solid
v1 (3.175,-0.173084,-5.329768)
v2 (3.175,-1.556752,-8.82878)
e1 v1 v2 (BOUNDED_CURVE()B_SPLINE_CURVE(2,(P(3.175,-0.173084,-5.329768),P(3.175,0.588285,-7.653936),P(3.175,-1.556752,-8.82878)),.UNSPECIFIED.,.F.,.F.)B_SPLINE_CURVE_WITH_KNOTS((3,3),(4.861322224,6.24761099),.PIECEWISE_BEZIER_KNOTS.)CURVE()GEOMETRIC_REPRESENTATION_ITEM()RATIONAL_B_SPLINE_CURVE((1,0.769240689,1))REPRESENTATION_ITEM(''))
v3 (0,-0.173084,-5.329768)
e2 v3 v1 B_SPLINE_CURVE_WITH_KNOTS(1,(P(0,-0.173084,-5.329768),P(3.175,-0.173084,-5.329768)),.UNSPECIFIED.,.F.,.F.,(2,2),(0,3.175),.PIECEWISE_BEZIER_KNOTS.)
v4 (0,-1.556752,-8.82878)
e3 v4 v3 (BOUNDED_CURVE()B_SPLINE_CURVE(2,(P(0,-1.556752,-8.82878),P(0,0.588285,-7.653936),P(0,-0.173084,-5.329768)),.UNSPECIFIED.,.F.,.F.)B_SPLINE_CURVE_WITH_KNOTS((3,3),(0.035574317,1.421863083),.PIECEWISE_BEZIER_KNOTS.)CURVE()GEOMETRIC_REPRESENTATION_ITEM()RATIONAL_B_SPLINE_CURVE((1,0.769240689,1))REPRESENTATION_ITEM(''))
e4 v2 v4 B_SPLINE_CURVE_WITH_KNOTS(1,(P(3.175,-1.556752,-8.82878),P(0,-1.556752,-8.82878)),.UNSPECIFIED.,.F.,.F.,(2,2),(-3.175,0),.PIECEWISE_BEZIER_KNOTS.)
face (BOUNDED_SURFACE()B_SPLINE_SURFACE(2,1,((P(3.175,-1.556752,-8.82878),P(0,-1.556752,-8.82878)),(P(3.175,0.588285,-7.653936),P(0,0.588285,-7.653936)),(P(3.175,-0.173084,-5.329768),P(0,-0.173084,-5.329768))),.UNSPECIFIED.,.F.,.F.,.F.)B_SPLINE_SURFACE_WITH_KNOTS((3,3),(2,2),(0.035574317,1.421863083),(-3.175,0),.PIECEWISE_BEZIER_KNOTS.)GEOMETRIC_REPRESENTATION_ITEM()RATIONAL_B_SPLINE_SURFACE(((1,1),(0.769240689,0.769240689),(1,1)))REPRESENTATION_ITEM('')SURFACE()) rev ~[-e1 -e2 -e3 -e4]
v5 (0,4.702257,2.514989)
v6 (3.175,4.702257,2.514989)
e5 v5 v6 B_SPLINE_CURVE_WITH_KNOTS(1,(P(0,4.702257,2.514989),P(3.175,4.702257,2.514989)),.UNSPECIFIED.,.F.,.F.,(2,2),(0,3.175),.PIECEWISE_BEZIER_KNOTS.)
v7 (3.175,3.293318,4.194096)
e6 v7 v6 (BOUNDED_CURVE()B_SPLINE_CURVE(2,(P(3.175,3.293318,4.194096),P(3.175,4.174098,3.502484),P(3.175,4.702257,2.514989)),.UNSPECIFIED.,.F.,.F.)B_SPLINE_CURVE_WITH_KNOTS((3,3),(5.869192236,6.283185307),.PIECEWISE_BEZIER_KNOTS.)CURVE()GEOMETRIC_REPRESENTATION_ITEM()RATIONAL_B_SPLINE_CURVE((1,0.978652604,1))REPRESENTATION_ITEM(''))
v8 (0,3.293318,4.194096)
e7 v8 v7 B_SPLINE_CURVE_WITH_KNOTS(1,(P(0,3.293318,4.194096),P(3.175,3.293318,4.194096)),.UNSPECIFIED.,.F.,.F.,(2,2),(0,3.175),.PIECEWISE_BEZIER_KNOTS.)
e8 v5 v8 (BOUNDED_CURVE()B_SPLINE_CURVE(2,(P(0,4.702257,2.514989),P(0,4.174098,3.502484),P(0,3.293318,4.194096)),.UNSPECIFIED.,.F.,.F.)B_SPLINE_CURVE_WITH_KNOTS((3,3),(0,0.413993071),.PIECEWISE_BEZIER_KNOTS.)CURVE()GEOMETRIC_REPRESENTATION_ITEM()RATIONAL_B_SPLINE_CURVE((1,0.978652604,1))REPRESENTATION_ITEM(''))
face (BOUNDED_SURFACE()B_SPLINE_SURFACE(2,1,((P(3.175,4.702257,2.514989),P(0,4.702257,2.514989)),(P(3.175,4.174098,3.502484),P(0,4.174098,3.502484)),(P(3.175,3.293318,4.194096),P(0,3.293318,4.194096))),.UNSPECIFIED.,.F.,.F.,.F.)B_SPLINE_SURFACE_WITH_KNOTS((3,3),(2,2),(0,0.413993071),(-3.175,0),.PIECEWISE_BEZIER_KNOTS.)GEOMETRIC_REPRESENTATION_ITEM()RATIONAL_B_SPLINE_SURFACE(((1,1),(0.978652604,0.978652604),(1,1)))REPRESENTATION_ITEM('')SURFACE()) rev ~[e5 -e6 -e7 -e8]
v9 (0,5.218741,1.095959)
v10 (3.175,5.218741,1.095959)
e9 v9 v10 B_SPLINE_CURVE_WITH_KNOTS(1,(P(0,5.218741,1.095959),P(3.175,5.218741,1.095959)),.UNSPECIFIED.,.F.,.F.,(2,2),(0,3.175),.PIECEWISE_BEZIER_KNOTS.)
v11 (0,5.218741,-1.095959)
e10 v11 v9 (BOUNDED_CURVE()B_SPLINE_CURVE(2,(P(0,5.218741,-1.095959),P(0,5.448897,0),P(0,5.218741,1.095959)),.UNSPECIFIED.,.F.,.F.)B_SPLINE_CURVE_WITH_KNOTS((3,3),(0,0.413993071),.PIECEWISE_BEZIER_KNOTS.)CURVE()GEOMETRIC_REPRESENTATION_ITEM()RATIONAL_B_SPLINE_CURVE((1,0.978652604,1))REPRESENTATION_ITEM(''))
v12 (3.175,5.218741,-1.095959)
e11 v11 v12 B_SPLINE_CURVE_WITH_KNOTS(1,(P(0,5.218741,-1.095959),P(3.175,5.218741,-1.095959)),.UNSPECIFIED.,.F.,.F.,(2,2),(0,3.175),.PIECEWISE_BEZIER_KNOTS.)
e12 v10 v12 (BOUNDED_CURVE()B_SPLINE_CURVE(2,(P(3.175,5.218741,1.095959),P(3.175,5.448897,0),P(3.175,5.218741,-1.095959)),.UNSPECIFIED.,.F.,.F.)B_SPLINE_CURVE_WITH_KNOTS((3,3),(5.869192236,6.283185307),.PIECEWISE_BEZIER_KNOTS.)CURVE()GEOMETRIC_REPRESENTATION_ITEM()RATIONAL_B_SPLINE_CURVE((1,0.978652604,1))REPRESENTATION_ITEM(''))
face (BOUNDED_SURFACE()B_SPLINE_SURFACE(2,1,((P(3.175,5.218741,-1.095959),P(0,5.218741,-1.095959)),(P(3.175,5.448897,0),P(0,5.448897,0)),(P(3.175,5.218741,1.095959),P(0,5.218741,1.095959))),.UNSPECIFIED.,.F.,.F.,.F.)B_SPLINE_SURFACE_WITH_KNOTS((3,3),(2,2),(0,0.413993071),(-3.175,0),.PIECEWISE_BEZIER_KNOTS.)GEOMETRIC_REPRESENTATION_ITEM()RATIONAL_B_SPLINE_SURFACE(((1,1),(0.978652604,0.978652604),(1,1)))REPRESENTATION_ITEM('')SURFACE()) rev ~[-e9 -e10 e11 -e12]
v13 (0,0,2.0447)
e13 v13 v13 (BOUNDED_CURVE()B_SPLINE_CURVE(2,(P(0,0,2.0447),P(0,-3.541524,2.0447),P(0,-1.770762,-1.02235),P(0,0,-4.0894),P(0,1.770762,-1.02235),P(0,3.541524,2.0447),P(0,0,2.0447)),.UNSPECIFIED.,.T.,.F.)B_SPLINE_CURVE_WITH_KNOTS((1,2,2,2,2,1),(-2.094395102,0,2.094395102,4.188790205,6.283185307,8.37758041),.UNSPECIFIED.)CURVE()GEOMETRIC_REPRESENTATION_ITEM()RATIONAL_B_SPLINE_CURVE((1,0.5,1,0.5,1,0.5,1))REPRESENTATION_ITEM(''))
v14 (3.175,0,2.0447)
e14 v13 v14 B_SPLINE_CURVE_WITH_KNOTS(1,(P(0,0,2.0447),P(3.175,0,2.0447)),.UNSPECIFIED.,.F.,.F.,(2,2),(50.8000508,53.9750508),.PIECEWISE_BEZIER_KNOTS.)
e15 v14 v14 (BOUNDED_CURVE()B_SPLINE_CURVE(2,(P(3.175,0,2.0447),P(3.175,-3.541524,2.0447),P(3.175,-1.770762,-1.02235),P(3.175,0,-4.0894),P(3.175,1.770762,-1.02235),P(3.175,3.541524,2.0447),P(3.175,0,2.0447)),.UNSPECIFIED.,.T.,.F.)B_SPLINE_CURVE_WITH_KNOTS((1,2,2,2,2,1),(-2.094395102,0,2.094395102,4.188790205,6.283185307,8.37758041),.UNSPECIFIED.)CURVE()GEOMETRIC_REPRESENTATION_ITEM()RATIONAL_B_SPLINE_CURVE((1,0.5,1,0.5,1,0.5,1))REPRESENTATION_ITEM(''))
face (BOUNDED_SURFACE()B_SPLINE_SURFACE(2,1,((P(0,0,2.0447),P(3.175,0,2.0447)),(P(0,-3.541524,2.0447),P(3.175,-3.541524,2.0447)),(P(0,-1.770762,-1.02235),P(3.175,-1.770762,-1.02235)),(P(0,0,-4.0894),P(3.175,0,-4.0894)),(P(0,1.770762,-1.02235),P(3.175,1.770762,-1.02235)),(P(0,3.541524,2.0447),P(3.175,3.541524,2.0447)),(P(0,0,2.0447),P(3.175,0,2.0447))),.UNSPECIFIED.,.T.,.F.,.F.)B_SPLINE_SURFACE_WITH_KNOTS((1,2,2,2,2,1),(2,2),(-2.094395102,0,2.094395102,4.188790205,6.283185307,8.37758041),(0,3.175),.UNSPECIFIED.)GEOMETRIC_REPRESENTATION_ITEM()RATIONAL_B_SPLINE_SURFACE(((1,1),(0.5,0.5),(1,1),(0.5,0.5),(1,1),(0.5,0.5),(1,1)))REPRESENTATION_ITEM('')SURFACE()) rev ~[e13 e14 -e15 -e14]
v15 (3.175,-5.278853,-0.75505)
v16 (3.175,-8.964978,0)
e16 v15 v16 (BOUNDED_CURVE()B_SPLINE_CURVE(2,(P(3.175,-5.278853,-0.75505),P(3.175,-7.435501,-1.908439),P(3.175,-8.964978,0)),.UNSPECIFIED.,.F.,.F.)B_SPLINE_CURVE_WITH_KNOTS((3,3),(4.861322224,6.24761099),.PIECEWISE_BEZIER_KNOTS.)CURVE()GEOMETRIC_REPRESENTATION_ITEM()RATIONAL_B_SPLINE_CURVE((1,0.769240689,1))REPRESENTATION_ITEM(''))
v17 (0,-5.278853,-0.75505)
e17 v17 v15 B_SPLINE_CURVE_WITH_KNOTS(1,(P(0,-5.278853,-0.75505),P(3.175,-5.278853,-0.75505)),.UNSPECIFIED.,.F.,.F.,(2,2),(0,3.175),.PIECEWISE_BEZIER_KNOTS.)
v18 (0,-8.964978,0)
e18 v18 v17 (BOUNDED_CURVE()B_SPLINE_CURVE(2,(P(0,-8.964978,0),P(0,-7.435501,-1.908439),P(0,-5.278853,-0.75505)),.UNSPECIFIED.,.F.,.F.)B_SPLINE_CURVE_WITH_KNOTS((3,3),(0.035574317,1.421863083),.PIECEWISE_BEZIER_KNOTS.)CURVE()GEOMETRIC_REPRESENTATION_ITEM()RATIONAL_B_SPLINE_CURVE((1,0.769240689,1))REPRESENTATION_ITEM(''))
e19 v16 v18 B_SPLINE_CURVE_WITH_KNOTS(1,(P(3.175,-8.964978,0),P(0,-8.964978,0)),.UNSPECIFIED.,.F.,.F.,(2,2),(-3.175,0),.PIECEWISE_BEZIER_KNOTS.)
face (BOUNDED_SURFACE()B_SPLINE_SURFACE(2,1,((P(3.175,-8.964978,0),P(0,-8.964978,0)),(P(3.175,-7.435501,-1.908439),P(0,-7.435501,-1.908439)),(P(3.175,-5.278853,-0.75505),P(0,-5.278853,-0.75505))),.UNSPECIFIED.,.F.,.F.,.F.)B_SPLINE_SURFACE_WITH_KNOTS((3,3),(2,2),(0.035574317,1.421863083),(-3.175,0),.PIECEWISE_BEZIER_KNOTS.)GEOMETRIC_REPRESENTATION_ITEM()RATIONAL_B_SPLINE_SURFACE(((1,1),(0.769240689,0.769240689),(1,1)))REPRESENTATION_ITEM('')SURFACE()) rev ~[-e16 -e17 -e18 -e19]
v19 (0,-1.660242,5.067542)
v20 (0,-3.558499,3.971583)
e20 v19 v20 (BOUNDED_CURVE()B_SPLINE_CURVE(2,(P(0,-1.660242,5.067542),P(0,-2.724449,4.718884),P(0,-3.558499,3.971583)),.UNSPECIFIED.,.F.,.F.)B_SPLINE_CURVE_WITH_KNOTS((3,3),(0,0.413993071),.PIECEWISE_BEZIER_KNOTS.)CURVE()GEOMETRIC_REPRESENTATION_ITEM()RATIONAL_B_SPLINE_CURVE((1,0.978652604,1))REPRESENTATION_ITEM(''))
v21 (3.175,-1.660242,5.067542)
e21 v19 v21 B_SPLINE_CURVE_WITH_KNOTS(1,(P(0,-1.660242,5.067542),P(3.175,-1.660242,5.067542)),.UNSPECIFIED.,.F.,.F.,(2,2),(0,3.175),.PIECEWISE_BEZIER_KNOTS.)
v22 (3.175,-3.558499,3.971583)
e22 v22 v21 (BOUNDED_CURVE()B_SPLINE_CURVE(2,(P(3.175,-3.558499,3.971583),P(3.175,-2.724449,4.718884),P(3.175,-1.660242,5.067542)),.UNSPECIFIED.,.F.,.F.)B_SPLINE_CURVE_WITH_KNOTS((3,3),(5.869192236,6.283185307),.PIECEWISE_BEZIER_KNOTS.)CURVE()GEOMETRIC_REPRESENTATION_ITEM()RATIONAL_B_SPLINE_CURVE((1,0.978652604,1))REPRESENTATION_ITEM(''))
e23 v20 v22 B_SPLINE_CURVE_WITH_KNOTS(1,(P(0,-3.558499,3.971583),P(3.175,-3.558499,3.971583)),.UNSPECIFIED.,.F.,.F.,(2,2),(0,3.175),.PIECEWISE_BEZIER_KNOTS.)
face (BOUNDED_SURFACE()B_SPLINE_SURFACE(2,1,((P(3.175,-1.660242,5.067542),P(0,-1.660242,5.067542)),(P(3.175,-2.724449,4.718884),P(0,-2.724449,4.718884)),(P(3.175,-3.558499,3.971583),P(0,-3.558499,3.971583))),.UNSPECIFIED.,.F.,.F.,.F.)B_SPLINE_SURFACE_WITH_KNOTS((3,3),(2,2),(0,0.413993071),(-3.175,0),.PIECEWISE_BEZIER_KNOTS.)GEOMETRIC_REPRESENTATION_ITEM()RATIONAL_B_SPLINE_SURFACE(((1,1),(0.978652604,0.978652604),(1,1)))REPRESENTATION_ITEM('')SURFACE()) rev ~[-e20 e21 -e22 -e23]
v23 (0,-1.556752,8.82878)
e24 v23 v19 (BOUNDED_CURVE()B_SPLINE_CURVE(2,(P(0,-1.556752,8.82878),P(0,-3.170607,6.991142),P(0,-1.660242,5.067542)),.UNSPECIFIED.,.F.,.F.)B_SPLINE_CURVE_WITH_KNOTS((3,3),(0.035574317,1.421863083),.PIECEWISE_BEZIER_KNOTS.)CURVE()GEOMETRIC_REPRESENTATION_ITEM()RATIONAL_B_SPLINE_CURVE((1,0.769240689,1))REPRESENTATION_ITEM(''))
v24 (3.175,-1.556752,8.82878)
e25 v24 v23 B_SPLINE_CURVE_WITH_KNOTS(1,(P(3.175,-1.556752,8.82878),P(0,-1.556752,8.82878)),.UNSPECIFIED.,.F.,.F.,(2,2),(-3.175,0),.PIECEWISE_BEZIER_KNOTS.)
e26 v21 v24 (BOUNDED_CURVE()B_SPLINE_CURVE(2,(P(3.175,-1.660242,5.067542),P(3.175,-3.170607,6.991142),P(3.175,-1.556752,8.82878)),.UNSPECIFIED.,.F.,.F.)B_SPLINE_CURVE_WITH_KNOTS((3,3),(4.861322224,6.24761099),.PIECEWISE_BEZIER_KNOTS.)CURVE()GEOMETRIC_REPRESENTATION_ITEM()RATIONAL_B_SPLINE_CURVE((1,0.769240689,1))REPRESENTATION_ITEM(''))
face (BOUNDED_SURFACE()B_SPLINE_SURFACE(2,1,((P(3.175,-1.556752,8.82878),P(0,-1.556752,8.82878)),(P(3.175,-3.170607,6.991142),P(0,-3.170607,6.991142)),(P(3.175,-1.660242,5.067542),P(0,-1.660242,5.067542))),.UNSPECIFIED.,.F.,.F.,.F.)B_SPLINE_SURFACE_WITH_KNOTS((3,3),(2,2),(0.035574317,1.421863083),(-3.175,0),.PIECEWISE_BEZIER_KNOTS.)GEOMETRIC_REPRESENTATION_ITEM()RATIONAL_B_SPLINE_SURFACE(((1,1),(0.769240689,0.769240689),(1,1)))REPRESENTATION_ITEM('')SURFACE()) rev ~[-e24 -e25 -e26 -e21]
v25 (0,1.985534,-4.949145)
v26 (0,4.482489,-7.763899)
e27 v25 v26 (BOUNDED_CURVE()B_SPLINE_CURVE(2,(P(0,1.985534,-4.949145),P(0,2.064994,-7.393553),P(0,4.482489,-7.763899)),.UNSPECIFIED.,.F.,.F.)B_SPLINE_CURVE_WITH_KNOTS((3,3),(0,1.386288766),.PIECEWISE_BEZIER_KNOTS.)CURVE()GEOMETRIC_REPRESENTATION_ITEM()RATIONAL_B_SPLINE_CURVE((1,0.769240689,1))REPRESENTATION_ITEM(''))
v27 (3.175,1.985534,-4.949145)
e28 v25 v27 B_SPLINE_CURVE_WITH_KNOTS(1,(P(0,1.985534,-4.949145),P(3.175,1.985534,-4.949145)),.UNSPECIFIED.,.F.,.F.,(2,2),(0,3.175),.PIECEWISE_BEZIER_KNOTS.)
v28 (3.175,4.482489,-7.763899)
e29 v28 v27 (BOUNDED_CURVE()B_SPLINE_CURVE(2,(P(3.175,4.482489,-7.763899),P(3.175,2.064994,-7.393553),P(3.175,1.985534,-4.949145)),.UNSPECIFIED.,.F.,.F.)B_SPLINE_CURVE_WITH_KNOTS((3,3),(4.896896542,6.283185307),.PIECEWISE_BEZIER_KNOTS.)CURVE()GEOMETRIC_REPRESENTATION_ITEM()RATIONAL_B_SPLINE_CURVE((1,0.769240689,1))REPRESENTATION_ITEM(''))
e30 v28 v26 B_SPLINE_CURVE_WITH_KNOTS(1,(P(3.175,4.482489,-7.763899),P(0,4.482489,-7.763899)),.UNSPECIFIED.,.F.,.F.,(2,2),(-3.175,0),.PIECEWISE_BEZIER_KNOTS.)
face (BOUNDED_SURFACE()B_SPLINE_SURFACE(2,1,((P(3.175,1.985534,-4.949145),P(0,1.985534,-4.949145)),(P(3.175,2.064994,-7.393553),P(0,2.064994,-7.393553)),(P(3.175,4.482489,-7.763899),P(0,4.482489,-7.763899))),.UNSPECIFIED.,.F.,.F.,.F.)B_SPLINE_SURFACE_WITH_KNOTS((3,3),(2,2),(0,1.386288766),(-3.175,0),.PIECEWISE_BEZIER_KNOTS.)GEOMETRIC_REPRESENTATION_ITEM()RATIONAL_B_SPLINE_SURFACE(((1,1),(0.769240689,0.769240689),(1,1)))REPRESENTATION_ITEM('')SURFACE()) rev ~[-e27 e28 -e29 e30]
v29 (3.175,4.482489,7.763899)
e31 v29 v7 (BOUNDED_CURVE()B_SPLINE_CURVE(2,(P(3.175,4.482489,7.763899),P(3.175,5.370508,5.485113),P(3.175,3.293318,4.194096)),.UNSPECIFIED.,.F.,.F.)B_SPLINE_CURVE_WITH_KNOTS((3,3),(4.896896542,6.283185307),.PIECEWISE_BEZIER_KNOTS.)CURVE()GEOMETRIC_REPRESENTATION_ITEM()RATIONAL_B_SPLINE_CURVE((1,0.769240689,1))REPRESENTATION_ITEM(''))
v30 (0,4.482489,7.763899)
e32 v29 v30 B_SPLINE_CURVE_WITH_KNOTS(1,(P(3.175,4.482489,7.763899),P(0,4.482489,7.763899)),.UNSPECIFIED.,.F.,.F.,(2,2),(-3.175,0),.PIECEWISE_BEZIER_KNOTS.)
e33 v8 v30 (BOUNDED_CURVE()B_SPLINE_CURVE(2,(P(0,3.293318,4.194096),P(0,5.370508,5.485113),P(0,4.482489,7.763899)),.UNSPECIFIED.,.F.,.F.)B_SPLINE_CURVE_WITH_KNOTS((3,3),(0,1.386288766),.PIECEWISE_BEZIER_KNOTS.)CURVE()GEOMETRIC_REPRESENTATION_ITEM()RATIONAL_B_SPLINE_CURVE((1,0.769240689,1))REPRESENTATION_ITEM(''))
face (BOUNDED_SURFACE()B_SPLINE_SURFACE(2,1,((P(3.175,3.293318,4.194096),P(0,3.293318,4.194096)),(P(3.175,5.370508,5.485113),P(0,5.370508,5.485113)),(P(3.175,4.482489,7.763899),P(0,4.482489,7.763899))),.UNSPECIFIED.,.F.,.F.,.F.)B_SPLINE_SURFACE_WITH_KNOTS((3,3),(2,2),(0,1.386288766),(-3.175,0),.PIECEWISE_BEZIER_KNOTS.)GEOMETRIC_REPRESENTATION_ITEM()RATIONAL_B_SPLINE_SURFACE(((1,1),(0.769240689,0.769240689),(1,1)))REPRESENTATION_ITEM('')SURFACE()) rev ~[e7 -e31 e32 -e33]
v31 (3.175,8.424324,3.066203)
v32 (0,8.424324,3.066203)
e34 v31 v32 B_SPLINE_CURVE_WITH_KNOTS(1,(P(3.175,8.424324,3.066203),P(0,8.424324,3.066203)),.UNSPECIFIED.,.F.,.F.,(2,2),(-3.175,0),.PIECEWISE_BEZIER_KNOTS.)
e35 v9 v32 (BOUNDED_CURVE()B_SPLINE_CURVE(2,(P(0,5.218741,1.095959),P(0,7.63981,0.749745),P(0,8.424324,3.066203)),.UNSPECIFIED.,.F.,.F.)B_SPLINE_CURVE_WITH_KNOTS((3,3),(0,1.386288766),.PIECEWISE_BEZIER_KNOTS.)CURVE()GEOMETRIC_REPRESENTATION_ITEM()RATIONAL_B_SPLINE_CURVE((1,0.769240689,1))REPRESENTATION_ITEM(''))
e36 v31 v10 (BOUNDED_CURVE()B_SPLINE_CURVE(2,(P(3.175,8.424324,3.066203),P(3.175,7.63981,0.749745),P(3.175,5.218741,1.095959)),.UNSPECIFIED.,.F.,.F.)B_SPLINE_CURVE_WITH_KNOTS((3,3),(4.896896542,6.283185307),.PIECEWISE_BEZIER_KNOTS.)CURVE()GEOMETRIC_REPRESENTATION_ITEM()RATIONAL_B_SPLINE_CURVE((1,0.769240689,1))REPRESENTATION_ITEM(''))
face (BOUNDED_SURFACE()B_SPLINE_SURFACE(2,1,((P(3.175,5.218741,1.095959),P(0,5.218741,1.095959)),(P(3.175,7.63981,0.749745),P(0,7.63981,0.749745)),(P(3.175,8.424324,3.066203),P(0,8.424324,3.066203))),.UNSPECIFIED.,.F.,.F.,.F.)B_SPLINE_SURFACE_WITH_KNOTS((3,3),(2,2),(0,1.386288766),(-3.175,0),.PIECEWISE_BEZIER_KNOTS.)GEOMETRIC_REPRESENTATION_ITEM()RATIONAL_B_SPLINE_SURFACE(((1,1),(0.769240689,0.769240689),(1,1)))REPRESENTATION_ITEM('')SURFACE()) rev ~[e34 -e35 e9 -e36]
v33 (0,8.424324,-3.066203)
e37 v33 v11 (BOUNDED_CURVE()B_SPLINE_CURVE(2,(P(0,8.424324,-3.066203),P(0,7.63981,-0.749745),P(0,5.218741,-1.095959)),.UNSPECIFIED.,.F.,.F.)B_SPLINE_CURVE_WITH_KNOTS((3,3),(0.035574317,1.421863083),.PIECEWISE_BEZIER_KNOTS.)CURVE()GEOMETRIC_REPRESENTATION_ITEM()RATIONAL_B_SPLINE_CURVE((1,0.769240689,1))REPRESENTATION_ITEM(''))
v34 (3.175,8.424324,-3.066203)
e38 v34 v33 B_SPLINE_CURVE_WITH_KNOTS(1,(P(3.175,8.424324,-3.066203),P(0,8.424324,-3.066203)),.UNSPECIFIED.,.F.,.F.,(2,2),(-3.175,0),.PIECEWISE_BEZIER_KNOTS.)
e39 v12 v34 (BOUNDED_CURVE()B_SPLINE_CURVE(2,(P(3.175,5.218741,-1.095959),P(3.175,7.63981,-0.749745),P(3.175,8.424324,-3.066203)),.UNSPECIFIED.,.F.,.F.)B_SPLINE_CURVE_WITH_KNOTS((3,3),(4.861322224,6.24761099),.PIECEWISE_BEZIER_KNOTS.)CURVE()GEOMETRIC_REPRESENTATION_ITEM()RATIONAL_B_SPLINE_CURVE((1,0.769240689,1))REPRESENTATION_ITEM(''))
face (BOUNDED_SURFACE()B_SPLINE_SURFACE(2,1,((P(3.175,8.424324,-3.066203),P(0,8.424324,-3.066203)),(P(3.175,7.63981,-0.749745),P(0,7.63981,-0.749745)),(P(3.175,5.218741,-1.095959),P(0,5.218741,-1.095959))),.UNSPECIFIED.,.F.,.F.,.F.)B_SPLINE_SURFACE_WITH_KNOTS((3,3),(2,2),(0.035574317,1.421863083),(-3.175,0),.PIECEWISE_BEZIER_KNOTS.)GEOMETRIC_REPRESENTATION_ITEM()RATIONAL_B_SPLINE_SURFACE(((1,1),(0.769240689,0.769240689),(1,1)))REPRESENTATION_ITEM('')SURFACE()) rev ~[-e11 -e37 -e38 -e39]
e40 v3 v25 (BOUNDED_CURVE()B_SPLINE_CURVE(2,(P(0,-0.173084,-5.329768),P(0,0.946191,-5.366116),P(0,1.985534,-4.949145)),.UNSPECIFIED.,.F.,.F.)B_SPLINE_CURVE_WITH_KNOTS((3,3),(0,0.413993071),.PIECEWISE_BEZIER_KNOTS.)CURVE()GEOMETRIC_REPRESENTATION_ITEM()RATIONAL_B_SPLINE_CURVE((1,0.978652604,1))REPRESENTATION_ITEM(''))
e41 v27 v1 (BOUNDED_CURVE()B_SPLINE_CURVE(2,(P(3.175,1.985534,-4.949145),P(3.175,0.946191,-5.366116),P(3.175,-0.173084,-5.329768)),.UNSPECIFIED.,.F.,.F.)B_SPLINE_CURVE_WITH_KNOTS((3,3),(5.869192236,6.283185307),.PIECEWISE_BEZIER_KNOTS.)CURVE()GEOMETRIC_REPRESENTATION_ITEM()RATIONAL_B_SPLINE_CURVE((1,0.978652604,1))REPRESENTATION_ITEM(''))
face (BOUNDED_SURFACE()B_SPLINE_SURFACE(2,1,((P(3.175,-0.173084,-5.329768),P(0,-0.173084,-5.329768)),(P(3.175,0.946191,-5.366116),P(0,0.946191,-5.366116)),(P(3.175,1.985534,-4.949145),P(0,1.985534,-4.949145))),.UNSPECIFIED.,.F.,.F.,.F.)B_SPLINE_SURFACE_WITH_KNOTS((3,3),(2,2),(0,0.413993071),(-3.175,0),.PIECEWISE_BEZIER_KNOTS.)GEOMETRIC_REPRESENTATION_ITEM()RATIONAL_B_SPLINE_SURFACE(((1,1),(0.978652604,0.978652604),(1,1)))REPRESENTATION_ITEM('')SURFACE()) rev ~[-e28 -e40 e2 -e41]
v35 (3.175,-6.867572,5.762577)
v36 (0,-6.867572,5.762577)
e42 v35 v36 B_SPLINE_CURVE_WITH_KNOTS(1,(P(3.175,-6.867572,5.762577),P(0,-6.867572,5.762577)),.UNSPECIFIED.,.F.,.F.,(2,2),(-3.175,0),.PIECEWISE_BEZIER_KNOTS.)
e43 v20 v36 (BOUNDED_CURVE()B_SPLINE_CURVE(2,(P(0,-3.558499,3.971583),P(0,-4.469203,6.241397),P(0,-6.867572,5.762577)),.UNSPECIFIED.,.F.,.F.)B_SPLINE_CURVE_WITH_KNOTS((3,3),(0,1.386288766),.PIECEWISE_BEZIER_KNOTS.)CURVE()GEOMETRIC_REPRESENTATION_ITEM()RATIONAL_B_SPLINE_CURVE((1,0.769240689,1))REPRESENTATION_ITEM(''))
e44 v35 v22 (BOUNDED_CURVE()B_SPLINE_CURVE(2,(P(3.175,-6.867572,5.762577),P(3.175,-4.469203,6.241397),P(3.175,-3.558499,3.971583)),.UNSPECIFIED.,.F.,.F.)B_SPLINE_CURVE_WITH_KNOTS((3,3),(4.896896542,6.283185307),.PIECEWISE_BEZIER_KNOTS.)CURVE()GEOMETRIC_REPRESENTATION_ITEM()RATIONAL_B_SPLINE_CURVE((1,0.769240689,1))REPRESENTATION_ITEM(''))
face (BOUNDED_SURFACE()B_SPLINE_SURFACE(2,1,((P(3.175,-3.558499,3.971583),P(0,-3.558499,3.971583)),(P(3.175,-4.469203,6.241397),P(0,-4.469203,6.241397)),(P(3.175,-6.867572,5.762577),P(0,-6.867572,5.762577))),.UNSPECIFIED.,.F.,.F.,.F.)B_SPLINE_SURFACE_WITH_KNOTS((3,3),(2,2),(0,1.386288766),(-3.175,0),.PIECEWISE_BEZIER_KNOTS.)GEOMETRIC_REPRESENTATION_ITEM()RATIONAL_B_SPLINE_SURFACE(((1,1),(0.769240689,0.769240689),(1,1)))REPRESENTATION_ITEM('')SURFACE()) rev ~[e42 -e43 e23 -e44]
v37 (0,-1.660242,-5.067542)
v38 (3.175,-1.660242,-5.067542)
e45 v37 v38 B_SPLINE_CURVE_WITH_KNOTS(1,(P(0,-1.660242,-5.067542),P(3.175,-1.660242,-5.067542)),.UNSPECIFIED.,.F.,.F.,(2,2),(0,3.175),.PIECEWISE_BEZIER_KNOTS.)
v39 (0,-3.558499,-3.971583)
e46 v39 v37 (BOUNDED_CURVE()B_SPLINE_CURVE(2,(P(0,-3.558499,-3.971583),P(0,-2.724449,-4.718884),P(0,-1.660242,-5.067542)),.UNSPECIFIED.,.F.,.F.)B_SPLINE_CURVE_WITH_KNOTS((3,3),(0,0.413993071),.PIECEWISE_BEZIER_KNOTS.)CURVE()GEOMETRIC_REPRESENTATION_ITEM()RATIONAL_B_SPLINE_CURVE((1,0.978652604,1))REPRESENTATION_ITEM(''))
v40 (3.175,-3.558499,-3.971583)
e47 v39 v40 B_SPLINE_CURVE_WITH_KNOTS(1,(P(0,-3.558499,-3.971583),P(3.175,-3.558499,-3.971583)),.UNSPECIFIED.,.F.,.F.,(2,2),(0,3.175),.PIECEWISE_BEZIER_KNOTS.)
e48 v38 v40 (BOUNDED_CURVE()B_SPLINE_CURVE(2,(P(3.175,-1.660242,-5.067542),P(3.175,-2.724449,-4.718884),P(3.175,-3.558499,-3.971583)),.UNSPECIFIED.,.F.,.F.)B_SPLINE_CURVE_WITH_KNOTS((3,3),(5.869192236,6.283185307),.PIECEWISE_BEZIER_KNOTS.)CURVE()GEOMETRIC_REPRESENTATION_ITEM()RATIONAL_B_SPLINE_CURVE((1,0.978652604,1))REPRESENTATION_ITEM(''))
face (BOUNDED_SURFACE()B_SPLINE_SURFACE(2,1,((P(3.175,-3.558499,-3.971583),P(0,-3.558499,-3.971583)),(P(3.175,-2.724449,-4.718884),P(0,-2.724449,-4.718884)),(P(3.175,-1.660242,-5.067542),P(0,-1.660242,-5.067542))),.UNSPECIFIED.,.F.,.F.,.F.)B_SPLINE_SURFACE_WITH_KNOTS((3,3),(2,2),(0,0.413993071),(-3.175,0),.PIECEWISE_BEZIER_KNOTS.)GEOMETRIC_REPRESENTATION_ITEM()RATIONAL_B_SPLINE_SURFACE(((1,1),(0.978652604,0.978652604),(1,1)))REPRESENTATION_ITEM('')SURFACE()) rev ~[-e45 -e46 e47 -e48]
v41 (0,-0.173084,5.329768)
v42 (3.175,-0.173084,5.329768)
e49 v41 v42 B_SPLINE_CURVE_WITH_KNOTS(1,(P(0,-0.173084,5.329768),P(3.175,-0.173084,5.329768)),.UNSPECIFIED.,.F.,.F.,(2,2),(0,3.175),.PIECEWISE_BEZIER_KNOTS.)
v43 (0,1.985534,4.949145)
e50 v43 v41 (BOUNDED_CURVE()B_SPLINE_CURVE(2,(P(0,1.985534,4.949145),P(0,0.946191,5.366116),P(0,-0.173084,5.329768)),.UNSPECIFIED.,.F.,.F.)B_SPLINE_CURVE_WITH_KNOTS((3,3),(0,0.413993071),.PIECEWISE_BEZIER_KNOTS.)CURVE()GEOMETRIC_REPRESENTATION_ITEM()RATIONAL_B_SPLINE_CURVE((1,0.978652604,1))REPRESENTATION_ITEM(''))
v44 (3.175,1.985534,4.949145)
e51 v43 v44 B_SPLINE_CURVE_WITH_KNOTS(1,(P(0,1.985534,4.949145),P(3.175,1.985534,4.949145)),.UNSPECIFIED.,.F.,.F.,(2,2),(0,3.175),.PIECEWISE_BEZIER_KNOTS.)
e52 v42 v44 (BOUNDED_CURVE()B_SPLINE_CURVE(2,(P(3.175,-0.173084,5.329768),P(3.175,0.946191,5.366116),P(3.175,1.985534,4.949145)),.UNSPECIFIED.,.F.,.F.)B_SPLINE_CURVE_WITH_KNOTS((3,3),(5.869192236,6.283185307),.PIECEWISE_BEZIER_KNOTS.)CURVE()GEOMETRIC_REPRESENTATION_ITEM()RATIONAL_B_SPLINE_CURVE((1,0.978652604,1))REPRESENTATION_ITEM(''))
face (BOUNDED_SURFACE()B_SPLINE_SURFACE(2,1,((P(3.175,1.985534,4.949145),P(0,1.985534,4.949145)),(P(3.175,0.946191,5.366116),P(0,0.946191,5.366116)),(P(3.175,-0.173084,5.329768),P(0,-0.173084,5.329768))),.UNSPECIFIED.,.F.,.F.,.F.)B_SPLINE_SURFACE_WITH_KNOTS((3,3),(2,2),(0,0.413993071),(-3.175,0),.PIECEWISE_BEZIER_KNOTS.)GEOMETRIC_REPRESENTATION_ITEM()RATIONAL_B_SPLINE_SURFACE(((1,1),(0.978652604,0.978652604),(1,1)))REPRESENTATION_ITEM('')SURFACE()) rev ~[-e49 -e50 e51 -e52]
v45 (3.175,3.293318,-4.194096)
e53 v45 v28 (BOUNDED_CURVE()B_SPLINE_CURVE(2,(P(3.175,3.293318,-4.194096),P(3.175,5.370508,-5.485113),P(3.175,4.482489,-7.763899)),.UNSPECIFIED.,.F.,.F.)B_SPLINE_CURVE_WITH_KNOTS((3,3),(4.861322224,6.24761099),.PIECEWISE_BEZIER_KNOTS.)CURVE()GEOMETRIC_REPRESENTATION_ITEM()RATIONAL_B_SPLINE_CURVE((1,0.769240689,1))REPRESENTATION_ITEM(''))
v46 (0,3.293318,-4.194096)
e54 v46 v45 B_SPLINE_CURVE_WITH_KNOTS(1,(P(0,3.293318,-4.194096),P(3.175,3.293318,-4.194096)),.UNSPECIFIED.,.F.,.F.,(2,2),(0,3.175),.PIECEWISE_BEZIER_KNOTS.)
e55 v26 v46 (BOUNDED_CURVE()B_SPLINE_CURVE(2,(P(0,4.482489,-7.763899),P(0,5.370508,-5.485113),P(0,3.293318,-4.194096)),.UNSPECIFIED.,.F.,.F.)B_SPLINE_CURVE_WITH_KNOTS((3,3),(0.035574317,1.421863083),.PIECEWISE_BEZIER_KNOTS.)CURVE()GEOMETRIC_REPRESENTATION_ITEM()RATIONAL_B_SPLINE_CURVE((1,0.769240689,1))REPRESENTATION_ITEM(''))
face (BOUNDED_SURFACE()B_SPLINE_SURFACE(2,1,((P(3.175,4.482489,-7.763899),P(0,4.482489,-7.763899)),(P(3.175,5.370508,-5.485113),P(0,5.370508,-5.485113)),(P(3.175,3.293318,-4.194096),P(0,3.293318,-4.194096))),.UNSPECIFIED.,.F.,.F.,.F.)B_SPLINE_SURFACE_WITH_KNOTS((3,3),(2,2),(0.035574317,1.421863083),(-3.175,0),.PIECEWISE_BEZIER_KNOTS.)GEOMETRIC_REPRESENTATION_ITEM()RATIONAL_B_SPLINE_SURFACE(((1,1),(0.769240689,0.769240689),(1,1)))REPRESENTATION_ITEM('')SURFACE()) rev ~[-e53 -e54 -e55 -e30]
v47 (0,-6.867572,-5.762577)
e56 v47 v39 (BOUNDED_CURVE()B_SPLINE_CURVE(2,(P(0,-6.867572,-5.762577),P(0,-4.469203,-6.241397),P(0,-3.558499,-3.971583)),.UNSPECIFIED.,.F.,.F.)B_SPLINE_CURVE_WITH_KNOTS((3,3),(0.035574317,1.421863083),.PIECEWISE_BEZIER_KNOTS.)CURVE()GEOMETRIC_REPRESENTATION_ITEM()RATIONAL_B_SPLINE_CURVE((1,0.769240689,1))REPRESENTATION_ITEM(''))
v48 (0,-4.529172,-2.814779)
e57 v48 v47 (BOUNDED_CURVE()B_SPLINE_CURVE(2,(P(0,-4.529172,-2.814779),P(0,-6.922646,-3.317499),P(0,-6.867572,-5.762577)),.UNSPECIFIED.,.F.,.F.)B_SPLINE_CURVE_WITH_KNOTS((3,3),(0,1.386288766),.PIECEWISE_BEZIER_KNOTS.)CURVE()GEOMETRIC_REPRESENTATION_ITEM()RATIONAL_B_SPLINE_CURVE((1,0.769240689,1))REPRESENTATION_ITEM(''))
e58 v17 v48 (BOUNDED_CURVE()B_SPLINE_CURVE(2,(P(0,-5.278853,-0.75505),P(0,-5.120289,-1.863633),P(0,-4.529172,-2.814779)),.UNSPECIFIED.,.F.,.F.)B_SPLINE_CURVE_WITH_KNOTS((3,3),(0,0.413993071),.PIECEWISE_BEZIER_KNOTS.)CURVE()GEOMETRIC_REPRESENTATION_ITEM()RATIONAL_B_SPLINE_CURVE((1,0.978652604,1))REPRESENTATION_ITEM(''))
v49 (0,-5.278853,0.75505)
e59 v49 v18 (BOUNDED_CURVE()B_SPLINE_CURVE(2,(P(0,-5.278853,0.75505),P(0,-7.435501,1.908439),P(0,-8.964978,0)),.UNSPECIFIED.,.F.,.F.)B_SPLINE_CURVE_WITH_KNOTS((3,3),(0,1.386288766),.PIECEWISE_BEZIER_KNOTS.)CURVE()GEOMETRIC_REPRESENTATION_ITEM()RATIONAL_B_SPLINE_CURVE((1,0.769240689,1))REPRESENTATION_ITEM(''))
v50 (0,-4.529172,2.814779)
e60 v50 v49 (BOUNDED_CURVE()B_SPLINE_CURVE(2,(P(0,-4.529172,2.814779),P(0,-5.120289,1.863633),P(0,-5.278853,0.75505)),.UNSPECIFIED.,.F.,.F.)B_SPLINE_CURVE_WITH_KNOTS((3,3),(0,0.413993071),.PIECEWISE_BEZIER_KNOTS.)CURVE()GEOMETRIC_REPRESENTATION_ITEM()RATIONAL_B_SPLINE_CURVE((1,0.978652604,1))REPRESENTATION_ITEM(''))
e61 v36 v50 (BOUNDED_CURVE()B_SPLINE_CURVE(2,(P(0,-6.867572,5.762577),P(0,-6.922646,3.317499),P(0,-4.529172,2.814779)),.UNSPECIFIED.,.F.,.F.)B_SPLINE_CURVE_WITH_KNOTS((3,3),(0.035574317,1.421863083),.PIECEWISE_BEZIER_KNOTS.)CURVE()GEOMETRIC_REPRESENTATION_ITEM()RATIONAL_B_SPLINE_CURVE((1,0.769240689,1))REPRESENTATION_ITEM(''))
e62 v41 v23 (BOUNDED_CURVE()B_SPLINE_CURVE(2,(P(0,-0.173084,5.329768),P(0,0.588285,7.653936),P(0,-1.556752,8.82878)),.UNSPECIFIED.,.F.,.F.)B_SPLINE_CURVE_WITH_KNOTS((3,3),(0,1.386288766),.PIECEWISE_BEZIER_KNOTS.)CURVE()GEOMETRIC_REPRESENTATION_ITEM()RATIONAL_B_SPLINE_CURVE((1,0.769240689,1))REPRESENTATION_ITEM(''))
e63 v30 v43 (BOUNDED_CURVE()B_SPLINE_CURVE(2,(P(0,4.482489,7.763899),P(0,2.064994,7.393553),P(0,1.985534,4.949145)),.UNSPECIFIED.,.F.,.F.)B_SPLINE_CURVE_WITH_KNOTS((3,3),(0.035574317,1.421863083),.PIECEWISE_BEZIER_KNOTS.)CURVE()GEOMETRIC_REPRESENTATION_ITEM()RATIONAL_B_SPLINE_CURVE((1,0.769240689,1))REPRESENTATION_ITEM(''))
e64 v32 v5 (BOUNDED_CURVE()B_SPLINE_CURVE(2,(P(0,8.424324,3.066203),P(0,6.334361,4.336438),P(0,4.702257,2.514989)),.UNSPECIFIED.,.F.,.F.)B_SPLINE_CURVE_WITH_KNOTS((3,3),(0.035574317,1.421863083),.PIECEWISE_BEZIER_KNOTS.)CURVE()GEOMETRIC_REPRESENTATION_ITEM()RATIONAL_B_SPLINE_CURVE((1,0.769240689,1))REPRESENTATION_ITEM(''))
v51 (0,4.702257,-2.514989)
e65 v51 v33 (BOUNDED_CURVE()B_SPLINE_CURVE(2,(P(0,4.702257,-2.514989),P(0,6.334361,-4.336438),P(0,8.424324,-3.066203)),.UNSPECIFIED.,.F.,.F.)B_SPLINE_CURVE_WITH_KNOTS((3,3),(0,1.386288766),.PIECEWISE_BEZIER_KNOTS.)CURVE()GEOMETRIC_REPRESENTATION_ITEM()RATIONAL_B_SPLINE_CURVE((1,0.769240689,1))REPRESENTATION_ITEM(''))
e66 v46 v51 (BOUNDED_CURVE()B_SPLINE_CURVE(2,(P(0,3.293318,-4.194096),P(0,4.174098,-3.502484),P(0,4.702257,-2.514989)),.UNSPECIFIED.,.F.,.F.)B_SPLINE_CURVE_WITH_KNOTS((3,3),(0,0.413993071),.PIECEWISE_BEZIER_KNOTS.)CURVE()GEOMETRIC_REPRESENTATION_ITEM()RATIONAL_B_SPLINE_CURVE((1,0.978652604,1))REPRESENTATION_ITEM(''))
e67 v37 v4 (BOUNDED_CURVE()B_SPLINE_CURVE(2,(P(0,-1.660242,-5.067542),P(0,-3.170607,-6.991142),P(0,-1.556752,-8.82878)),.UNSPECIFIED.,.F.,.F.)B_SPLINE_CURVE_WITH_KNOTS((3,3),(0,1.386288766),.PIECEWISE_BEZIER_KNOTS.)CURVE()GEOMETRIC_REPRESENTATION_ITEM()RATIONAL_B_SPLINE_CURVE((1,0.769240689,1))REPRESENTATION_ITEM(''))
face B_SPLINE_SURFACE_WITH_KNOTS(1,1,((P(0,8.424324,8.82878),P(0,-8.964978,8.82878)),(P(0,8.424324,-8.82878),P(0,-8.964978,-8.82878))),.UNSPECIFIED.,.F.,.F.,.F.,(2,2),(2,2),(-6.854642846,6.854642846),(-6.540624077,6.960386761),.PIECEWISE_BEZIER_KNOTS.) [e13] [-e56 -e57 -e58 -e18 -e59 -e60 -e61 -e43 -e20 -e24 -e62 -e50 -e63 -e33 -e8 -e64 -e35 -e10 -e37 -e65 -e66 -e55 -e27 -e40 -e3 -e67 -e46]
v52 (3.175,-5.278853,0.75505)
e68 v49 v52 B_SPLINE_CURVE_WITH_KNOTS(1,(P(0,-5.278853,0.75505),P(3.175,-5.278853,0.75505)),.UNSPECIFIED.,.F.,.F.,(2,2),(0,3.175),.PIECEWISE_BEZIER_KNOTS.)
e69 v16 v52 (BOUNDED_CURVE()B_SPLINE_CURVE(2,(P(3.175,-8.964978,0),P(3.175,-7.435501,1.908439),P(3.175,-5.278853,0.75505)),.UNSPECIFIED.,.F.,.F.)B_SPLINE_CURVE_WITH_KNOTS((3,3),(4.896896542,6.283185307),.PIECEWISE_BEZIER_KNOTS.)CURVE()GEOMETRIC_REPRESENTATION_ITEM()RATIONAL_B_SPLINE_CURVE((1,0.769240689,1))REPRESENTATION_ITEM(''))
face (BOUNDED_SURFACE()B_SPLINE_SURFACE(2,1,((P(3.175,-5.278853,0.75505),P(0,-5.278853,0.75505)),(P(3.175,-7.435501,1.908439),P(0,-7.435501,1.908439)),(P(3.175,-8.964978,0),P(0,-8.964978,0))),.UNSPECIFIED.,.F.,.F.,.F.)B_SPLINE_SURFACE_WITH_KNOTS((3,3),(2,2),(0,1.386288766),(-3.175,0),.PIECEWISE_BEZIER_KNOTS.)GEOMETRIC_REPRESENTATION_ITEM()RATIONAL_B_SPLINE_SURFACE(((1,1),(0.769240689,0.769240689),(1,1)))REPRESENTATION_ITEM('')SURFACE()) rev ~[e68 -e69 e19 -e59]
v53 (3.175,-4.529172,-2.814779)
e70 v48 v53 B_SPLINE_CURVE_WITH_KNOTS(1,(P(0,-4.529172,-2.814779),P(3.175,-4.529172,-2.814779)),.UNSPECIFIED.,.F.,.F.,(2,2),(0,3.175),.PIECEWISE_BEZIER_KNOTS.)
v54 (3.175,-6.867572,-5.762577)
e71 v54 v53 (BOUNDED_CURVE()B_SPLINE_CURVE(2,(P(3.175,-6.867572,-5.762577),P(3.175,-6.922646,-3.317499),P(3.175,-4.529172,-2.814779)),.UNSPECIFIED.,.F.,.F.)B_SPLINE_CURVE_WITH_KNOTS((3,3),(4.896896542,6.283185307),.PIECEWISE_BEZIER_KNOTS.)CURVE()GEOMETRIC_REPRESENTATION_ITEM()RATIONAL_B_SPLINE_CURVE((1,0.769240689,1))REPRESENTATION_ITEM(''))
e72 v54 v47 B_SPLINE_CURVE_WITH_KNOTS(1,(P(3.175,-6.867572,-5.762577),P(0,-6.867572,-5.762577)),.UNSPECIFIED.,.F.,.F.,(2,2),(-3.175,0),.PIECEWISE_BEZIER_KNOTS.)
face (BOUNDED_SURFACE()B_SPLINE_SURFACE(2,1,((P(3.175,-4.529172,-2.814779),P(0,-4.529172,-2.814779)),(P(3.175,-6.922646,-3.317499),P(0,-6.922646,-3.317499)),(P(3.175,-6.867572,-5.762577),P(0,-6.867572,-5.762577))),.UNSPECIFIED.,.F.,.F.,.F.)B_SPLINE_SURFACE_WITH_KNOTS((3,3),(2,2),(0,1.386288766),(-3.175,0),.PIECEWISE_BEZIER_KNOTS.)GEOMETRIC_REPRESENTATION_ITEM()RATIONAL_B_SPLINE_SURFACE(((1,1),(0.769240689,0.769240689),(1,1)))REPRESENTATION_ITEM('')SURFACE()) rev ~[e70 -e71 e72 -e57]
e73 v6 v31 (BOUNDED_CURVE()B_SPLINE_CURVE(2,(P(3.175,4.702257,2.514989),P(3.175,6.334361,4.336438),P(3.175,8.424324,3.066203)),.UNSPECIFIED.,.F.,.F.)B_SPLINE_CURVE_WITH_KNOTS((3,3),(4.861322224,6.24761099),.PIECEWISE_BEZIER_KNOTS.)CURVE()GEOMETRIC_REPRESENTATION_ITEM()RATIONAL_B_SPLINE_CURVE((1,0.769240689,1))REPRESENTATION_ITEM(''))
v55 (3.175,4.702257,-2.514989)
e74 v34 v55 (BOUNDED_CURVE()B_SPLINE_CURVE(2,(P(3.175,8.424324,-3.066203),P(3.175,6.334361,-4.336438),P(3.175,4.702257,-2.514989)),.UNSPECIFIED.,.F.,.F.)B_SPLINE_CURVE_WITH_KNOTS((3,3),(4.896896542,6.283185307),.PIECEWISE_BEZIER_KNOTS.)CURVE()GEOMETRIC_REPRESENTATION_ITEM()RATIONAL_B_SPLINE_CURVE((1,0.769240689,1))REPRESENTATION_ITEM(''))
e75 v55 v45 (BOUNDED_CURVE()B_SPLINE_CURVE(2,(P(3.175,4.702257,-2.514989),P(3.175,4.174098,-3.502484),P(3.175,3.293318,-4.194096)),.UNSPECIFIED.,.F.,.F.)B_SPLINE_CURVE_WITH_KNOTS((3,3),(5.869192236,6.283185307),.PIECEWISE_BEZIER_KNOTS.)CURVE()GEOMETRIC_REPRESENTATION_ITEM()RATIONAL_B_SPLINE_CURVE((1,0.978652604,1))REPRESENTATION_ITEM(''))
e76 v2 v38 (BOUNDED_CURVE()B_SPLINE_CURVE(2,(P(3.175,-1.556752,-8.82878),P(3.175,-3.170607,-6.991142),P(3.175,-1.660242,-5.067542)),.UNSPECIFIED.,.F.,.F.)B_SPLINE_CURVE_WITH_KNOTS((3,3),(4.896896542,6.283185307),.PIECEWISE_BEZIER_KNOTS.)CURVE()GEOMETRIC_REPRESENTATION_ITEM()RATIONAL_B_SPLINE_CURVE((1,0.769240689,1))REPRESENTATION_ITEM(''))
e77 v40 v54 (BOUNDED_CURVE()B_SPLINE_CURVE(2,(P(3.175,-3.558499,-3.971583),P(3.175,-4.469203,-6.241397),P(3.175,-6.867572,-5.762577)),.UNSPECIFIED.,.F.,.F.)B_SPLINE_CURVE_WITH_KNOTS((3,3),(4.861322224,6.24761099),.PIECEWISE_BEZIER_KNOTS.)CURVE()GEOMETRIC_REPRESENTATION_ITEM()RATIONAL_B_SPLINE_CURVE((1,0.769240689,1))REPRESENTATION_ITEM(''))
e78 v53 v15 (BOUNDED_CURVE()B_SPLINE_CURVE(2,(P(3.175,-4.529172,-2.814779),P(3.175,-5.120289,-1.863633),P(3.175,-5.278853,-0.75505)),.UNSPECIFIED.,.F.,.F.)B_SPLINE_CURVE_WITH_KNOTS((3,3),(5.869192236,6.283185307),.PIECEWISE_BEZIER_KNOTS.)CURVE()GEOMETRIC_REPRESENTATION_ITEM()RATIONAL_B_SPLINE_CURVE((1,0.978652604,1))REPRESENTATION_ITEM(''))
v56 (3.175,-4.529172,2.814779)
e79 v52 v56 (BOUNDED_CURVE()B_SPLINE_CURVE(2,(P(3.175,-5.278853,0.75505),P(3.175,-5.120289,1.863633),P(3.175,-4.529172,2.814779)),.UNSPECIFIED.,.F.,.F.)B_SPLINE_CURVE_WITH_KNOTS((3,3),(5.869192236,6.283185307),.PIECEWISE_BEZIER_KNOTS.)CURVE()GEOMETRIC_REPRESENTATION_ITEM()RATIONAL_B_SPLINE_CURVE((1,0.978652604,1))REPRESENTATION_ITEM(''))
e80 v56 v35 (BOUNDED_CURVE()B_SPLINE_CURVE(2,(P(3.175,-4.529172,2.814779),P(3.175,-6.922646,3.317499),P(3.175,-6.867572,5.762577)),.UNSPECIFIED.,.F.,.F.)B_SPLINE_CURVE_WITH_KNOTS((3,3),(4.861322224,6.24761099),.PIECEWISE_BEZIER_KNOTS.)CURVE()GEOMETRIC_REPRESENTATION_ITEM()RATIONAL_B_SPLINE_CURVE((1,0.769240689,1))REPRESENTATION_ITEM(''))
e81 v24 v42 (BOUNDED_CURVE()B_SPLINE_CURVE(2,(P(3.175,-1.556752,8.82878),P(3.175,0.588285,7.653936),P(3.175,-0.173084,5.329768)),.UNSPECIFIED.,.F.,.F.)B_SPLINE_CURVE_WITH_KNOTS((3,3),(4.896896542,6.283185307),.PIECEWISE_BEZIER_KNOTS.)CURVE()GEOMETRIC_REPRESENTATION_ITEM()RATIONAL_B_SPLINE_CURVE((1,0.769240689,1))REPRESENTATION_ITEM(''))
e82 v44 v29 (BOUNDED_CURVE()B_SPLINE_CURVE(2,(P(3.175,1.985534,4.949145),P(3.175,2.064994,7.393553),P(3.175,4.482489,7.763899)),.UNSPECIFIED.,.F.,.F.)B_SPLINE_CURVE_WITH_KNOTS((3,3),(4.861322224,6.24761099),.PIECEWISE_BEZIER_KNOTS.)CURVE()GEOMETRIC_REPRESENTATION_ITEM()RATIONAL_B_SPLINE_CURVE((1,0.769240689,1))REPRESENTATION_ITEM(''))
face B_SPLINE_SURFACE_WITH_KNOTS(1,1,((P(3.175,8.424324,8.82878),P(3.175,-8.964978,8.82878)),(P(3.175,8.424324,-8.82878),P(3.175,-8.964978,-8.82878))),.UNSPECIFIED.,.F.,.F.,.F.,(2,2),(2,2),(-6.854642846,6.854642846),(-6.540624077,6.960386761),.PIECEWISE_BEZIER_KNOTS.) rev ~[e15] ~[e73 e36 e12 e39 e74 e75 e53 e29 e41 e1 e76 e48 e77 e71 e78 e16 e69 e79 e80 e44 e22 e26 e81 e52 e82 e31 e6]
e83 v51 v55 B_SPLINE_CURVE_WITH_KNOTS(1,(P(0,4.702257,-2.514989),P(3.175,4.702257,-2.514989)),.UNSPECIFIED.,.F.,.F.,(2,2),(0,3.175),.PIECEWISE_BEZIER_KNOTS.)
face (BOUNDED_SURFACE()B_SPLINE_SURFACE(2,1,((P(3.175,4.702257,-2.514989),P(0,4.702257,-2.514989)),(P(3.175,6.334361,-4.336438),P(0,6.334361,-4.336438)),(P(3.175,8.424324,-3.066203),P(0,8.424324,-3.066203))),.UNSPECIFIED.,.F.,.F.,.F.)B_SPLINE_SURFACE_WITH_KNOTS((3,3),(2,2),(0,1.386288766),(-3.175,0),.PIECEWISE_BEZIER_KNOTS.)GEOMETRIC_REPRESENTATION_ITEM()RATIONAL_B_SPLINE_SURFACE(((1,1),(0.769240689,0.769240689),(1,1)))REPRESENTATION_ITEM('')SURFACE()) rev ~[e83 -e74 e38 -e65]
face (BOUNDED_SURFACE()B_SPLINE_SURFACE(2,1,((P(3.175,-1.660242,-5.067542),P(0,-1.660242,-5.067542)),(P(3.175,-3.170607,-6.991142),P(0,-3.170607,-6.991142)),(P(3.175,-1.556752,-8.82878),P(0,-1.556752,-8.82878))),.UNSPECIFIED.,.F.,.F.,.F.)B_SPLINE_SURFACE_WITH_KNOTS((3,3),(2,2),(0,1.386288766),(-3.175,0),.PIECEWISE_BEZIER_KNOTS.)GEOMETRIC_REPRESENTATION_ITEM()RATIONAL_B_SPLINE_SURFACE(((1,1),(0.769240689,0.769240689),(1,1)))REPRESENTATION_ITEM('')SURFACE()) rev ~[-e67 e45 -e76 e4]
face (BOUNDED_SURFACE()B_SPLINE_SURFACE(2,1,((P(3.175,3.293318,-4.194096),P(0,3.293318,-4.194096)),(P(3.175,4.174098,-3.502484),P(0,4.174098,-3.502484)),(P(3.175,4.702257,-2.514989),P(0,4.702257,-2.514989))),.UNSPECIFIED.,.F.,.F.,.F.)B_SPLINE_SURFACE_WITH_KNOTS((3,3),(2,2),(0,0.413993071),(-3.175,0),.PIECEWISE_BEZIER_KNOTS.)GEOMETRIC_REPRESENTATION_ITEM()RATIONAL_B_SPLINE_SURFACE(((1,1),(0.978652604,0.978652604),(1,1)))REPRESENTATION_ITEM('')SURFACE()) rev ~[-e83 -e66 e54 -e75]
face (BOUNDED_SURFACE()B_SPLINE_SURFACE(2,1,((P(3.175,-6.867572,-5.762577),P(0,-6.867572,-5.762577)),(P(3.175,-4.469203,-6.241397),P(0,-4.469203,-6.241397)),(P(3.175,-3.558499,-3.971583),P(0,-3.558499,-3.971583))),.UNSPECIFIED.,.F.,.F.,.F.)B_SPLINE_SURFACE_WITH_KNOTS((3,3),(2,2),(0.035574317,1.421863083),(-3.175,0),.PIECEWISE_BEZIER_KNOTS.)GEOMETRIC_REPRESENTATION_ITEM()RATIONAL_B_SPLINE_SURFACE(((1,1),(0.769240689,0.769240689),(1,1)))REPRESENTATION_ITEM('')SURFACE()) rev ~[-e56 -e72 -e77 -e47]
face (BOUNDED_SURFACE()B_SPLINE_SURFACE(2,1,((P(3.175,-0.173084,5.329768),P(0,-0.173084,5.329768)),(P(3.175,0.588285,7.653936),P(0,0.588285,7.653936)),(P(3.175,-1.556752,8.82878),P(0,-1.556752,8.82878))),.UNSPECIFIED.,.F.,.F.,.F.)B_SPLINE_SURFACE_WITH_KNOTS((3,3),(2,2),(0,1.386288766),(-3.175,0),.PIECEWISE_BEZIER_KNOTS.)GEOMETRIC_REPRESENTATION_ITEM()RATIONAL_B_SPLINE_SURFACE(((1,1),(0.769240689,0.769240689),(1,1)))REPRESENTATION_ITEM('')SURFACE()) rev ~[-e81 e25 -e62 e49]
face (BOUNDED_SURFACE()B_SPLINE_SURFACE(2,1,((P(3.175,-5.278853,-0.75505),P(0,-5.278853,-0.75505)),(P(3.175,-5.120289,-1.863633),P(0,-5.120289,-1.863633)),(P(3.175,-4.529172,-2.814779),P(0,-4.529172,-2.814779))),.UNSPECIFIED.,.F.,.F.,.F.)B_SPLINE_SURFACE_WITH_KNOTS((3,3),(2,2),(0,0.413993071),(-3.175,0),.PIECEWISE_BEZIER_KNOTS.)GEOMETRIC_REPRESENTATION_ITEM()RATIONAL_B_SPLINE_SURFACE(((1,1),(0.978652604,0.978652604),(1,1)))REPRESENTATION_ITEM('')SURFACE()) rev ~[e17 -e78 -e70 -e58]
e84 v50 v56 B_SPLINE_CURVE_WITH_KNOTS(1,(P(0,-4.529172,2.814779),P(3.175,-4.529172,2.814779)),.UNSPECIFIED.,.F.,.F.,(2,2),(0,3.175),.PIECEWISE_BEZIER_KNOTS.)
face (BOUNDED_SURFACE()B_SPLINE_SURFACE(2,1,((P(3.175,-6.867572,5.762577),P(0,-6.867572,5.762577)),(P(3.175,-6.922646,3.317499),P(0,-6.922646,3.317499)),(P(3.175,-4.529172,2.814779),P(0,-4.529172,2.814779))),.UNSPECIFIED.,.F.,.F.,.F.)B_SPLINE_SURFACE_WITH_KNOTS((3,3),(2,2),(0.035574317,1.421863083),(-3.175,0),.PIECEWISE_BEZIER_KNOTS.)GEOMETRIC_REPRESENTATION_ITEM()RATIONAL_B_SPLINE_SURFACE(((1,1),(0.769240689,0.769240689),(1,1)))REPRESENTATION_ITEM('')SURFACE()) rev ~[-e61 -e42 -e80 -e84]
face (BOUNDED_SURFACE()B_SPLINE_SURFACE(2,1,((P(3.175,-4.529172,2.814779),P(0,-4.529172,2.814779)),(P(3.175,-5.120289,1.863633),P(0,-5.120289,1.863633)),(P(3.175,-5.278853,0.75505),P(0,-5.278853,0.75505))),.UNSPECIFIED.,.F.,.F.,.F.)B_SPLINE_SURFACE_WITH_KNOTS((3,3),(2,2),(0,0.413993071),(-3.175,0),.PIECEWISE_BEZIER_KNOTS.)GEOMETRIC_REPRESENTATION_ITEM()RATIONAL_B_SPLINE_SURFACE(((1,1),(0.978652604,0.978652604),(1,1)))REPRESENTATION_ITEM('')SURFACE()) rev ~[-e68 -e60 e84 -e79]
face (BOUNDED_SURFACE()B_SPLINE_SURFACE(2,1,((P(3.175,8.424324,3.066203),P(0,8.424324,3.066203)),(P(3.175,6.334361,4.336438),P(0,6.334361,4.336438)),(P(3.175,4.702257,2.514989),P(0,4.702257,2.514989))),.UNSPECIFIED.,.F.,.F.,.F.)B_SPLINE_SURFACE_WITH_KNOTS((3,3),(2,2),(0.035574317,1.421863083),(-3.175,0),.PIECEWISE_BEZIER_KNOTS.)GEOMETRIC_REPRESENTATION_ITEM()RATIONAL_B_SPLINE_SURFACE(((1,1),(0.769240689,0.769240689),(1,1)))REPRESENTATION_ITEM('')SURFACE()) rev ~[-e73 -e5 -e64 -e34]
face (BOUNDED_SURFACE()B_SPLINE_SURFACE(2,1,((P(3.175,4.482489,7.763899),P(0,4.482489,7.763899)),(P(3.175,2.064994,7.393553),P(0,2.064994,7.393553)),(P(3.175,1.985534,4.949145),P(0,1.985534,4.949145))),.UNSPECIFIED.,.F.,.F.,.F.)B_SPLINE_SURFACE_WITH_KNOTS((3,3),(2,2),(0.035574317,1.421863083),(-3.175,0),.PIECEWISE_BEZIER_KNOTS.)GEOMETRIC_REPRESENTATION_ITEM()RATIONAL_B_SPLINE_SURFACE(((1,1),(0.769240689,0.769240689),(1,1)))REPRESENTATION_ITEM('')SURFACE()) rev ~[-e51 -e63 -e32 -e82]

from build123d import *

# Parameters (mm, degrees)
BASPROSKE_W     = 3.175
BASPROSKE_H     = 6.985
TOOTHCUT_DEPTH  = 11.375985495
TEETHCUTS_COUNT = 9
BORSKE_R        = 1.5875
BORE_DEPTH      = 50.8000508
SCALE1_SCALE_X  = 1
SCALE1_SCALE_Y  = 1.288
SCALE1_SCALE_Z  = 1.288


with BuildPart() as part:
    # BasProSke → Base-Revolve (revolve)
    with BuildSketch(Plane(origin=(0, 0, 0), x_dir=(1, 0, 0), z_dir=(0, 1, 0)), mode=Mode.PRIVATE) as base_revolve_sk:
        with Locations((1.5875, 3.4925)):
            Rectangle(BASPROSKE_W, BASPROSKE_H)
    revolve(base_revolve_sk.sketch.rotate(Axis((-10, 0, 0), (1, 0, 0)), 180), axis=Axis((-10, 0, 0), (1, 0, 0)))

    # TooCutSke → ToothCut (cut, through all)
    with BuildSketch(Plane(origin=(0, 0, 0), x_dir=(0, 0, -1), z_dir=(1, 0, 0))):
        with BuildLine():
            ThreePointArc((0.85090004, 4.051817513), (0, 4.1402), (-0.85090004, 4.051817513))
            ThreePointArc((-0.85090004, 4.051817513), (-1.187930048, 5.606894235), (-2.458065659, 6.565334826))
            ThreePointArc((-2.458065659, 6.565334826), (0, 7.0104), (2.458065659, 6.565334826))
            ThreePointArc((2.458065659, 6.565334826), (1.187930048, 5.606894235), (0.85090004, 4.051817513))
        make_face()
    toothcut = extrude(amount=TOOTHCUT_DEPTH, mode=Mode.SUBTRACT)

    # TeethCuts: ToothCut ×9 about axis
    teethcuts_axis = Axis((-10, 0, 0), (1, 0, 0))
    for i in range(1, TEETHCUTS_COUNT):
        add(toothcut.rotate(teethcuts_axis, i * 360 / TEETHCUTS_COUNT), mode=Mode.SUBTRACT)

    # BorSke → Bore (cut, symmetric)
    with BuildSketch(Plane(origin=(0, 0, 0), x_dir=(0, 0, -1), z_dir=(1, 0, 0))):
        with Locations(Location((0, 0, 0), (0, 0, 180))):
            Circle(BORSKE_R)
    extrude(amount=BORE_DEPTH, both=True, mode=Mode.SUBTRACT)


with BuildPart() as part_1:
    # Scale1: scaled about (1.5875, 0, 0)
    add(part.part.scale((SCALE1_SCALE_X, SCALE1_SCALE_Y, SCALE1_SCALE_Z), about=(1.5875, 0, 0)))


solid = part_1.part
